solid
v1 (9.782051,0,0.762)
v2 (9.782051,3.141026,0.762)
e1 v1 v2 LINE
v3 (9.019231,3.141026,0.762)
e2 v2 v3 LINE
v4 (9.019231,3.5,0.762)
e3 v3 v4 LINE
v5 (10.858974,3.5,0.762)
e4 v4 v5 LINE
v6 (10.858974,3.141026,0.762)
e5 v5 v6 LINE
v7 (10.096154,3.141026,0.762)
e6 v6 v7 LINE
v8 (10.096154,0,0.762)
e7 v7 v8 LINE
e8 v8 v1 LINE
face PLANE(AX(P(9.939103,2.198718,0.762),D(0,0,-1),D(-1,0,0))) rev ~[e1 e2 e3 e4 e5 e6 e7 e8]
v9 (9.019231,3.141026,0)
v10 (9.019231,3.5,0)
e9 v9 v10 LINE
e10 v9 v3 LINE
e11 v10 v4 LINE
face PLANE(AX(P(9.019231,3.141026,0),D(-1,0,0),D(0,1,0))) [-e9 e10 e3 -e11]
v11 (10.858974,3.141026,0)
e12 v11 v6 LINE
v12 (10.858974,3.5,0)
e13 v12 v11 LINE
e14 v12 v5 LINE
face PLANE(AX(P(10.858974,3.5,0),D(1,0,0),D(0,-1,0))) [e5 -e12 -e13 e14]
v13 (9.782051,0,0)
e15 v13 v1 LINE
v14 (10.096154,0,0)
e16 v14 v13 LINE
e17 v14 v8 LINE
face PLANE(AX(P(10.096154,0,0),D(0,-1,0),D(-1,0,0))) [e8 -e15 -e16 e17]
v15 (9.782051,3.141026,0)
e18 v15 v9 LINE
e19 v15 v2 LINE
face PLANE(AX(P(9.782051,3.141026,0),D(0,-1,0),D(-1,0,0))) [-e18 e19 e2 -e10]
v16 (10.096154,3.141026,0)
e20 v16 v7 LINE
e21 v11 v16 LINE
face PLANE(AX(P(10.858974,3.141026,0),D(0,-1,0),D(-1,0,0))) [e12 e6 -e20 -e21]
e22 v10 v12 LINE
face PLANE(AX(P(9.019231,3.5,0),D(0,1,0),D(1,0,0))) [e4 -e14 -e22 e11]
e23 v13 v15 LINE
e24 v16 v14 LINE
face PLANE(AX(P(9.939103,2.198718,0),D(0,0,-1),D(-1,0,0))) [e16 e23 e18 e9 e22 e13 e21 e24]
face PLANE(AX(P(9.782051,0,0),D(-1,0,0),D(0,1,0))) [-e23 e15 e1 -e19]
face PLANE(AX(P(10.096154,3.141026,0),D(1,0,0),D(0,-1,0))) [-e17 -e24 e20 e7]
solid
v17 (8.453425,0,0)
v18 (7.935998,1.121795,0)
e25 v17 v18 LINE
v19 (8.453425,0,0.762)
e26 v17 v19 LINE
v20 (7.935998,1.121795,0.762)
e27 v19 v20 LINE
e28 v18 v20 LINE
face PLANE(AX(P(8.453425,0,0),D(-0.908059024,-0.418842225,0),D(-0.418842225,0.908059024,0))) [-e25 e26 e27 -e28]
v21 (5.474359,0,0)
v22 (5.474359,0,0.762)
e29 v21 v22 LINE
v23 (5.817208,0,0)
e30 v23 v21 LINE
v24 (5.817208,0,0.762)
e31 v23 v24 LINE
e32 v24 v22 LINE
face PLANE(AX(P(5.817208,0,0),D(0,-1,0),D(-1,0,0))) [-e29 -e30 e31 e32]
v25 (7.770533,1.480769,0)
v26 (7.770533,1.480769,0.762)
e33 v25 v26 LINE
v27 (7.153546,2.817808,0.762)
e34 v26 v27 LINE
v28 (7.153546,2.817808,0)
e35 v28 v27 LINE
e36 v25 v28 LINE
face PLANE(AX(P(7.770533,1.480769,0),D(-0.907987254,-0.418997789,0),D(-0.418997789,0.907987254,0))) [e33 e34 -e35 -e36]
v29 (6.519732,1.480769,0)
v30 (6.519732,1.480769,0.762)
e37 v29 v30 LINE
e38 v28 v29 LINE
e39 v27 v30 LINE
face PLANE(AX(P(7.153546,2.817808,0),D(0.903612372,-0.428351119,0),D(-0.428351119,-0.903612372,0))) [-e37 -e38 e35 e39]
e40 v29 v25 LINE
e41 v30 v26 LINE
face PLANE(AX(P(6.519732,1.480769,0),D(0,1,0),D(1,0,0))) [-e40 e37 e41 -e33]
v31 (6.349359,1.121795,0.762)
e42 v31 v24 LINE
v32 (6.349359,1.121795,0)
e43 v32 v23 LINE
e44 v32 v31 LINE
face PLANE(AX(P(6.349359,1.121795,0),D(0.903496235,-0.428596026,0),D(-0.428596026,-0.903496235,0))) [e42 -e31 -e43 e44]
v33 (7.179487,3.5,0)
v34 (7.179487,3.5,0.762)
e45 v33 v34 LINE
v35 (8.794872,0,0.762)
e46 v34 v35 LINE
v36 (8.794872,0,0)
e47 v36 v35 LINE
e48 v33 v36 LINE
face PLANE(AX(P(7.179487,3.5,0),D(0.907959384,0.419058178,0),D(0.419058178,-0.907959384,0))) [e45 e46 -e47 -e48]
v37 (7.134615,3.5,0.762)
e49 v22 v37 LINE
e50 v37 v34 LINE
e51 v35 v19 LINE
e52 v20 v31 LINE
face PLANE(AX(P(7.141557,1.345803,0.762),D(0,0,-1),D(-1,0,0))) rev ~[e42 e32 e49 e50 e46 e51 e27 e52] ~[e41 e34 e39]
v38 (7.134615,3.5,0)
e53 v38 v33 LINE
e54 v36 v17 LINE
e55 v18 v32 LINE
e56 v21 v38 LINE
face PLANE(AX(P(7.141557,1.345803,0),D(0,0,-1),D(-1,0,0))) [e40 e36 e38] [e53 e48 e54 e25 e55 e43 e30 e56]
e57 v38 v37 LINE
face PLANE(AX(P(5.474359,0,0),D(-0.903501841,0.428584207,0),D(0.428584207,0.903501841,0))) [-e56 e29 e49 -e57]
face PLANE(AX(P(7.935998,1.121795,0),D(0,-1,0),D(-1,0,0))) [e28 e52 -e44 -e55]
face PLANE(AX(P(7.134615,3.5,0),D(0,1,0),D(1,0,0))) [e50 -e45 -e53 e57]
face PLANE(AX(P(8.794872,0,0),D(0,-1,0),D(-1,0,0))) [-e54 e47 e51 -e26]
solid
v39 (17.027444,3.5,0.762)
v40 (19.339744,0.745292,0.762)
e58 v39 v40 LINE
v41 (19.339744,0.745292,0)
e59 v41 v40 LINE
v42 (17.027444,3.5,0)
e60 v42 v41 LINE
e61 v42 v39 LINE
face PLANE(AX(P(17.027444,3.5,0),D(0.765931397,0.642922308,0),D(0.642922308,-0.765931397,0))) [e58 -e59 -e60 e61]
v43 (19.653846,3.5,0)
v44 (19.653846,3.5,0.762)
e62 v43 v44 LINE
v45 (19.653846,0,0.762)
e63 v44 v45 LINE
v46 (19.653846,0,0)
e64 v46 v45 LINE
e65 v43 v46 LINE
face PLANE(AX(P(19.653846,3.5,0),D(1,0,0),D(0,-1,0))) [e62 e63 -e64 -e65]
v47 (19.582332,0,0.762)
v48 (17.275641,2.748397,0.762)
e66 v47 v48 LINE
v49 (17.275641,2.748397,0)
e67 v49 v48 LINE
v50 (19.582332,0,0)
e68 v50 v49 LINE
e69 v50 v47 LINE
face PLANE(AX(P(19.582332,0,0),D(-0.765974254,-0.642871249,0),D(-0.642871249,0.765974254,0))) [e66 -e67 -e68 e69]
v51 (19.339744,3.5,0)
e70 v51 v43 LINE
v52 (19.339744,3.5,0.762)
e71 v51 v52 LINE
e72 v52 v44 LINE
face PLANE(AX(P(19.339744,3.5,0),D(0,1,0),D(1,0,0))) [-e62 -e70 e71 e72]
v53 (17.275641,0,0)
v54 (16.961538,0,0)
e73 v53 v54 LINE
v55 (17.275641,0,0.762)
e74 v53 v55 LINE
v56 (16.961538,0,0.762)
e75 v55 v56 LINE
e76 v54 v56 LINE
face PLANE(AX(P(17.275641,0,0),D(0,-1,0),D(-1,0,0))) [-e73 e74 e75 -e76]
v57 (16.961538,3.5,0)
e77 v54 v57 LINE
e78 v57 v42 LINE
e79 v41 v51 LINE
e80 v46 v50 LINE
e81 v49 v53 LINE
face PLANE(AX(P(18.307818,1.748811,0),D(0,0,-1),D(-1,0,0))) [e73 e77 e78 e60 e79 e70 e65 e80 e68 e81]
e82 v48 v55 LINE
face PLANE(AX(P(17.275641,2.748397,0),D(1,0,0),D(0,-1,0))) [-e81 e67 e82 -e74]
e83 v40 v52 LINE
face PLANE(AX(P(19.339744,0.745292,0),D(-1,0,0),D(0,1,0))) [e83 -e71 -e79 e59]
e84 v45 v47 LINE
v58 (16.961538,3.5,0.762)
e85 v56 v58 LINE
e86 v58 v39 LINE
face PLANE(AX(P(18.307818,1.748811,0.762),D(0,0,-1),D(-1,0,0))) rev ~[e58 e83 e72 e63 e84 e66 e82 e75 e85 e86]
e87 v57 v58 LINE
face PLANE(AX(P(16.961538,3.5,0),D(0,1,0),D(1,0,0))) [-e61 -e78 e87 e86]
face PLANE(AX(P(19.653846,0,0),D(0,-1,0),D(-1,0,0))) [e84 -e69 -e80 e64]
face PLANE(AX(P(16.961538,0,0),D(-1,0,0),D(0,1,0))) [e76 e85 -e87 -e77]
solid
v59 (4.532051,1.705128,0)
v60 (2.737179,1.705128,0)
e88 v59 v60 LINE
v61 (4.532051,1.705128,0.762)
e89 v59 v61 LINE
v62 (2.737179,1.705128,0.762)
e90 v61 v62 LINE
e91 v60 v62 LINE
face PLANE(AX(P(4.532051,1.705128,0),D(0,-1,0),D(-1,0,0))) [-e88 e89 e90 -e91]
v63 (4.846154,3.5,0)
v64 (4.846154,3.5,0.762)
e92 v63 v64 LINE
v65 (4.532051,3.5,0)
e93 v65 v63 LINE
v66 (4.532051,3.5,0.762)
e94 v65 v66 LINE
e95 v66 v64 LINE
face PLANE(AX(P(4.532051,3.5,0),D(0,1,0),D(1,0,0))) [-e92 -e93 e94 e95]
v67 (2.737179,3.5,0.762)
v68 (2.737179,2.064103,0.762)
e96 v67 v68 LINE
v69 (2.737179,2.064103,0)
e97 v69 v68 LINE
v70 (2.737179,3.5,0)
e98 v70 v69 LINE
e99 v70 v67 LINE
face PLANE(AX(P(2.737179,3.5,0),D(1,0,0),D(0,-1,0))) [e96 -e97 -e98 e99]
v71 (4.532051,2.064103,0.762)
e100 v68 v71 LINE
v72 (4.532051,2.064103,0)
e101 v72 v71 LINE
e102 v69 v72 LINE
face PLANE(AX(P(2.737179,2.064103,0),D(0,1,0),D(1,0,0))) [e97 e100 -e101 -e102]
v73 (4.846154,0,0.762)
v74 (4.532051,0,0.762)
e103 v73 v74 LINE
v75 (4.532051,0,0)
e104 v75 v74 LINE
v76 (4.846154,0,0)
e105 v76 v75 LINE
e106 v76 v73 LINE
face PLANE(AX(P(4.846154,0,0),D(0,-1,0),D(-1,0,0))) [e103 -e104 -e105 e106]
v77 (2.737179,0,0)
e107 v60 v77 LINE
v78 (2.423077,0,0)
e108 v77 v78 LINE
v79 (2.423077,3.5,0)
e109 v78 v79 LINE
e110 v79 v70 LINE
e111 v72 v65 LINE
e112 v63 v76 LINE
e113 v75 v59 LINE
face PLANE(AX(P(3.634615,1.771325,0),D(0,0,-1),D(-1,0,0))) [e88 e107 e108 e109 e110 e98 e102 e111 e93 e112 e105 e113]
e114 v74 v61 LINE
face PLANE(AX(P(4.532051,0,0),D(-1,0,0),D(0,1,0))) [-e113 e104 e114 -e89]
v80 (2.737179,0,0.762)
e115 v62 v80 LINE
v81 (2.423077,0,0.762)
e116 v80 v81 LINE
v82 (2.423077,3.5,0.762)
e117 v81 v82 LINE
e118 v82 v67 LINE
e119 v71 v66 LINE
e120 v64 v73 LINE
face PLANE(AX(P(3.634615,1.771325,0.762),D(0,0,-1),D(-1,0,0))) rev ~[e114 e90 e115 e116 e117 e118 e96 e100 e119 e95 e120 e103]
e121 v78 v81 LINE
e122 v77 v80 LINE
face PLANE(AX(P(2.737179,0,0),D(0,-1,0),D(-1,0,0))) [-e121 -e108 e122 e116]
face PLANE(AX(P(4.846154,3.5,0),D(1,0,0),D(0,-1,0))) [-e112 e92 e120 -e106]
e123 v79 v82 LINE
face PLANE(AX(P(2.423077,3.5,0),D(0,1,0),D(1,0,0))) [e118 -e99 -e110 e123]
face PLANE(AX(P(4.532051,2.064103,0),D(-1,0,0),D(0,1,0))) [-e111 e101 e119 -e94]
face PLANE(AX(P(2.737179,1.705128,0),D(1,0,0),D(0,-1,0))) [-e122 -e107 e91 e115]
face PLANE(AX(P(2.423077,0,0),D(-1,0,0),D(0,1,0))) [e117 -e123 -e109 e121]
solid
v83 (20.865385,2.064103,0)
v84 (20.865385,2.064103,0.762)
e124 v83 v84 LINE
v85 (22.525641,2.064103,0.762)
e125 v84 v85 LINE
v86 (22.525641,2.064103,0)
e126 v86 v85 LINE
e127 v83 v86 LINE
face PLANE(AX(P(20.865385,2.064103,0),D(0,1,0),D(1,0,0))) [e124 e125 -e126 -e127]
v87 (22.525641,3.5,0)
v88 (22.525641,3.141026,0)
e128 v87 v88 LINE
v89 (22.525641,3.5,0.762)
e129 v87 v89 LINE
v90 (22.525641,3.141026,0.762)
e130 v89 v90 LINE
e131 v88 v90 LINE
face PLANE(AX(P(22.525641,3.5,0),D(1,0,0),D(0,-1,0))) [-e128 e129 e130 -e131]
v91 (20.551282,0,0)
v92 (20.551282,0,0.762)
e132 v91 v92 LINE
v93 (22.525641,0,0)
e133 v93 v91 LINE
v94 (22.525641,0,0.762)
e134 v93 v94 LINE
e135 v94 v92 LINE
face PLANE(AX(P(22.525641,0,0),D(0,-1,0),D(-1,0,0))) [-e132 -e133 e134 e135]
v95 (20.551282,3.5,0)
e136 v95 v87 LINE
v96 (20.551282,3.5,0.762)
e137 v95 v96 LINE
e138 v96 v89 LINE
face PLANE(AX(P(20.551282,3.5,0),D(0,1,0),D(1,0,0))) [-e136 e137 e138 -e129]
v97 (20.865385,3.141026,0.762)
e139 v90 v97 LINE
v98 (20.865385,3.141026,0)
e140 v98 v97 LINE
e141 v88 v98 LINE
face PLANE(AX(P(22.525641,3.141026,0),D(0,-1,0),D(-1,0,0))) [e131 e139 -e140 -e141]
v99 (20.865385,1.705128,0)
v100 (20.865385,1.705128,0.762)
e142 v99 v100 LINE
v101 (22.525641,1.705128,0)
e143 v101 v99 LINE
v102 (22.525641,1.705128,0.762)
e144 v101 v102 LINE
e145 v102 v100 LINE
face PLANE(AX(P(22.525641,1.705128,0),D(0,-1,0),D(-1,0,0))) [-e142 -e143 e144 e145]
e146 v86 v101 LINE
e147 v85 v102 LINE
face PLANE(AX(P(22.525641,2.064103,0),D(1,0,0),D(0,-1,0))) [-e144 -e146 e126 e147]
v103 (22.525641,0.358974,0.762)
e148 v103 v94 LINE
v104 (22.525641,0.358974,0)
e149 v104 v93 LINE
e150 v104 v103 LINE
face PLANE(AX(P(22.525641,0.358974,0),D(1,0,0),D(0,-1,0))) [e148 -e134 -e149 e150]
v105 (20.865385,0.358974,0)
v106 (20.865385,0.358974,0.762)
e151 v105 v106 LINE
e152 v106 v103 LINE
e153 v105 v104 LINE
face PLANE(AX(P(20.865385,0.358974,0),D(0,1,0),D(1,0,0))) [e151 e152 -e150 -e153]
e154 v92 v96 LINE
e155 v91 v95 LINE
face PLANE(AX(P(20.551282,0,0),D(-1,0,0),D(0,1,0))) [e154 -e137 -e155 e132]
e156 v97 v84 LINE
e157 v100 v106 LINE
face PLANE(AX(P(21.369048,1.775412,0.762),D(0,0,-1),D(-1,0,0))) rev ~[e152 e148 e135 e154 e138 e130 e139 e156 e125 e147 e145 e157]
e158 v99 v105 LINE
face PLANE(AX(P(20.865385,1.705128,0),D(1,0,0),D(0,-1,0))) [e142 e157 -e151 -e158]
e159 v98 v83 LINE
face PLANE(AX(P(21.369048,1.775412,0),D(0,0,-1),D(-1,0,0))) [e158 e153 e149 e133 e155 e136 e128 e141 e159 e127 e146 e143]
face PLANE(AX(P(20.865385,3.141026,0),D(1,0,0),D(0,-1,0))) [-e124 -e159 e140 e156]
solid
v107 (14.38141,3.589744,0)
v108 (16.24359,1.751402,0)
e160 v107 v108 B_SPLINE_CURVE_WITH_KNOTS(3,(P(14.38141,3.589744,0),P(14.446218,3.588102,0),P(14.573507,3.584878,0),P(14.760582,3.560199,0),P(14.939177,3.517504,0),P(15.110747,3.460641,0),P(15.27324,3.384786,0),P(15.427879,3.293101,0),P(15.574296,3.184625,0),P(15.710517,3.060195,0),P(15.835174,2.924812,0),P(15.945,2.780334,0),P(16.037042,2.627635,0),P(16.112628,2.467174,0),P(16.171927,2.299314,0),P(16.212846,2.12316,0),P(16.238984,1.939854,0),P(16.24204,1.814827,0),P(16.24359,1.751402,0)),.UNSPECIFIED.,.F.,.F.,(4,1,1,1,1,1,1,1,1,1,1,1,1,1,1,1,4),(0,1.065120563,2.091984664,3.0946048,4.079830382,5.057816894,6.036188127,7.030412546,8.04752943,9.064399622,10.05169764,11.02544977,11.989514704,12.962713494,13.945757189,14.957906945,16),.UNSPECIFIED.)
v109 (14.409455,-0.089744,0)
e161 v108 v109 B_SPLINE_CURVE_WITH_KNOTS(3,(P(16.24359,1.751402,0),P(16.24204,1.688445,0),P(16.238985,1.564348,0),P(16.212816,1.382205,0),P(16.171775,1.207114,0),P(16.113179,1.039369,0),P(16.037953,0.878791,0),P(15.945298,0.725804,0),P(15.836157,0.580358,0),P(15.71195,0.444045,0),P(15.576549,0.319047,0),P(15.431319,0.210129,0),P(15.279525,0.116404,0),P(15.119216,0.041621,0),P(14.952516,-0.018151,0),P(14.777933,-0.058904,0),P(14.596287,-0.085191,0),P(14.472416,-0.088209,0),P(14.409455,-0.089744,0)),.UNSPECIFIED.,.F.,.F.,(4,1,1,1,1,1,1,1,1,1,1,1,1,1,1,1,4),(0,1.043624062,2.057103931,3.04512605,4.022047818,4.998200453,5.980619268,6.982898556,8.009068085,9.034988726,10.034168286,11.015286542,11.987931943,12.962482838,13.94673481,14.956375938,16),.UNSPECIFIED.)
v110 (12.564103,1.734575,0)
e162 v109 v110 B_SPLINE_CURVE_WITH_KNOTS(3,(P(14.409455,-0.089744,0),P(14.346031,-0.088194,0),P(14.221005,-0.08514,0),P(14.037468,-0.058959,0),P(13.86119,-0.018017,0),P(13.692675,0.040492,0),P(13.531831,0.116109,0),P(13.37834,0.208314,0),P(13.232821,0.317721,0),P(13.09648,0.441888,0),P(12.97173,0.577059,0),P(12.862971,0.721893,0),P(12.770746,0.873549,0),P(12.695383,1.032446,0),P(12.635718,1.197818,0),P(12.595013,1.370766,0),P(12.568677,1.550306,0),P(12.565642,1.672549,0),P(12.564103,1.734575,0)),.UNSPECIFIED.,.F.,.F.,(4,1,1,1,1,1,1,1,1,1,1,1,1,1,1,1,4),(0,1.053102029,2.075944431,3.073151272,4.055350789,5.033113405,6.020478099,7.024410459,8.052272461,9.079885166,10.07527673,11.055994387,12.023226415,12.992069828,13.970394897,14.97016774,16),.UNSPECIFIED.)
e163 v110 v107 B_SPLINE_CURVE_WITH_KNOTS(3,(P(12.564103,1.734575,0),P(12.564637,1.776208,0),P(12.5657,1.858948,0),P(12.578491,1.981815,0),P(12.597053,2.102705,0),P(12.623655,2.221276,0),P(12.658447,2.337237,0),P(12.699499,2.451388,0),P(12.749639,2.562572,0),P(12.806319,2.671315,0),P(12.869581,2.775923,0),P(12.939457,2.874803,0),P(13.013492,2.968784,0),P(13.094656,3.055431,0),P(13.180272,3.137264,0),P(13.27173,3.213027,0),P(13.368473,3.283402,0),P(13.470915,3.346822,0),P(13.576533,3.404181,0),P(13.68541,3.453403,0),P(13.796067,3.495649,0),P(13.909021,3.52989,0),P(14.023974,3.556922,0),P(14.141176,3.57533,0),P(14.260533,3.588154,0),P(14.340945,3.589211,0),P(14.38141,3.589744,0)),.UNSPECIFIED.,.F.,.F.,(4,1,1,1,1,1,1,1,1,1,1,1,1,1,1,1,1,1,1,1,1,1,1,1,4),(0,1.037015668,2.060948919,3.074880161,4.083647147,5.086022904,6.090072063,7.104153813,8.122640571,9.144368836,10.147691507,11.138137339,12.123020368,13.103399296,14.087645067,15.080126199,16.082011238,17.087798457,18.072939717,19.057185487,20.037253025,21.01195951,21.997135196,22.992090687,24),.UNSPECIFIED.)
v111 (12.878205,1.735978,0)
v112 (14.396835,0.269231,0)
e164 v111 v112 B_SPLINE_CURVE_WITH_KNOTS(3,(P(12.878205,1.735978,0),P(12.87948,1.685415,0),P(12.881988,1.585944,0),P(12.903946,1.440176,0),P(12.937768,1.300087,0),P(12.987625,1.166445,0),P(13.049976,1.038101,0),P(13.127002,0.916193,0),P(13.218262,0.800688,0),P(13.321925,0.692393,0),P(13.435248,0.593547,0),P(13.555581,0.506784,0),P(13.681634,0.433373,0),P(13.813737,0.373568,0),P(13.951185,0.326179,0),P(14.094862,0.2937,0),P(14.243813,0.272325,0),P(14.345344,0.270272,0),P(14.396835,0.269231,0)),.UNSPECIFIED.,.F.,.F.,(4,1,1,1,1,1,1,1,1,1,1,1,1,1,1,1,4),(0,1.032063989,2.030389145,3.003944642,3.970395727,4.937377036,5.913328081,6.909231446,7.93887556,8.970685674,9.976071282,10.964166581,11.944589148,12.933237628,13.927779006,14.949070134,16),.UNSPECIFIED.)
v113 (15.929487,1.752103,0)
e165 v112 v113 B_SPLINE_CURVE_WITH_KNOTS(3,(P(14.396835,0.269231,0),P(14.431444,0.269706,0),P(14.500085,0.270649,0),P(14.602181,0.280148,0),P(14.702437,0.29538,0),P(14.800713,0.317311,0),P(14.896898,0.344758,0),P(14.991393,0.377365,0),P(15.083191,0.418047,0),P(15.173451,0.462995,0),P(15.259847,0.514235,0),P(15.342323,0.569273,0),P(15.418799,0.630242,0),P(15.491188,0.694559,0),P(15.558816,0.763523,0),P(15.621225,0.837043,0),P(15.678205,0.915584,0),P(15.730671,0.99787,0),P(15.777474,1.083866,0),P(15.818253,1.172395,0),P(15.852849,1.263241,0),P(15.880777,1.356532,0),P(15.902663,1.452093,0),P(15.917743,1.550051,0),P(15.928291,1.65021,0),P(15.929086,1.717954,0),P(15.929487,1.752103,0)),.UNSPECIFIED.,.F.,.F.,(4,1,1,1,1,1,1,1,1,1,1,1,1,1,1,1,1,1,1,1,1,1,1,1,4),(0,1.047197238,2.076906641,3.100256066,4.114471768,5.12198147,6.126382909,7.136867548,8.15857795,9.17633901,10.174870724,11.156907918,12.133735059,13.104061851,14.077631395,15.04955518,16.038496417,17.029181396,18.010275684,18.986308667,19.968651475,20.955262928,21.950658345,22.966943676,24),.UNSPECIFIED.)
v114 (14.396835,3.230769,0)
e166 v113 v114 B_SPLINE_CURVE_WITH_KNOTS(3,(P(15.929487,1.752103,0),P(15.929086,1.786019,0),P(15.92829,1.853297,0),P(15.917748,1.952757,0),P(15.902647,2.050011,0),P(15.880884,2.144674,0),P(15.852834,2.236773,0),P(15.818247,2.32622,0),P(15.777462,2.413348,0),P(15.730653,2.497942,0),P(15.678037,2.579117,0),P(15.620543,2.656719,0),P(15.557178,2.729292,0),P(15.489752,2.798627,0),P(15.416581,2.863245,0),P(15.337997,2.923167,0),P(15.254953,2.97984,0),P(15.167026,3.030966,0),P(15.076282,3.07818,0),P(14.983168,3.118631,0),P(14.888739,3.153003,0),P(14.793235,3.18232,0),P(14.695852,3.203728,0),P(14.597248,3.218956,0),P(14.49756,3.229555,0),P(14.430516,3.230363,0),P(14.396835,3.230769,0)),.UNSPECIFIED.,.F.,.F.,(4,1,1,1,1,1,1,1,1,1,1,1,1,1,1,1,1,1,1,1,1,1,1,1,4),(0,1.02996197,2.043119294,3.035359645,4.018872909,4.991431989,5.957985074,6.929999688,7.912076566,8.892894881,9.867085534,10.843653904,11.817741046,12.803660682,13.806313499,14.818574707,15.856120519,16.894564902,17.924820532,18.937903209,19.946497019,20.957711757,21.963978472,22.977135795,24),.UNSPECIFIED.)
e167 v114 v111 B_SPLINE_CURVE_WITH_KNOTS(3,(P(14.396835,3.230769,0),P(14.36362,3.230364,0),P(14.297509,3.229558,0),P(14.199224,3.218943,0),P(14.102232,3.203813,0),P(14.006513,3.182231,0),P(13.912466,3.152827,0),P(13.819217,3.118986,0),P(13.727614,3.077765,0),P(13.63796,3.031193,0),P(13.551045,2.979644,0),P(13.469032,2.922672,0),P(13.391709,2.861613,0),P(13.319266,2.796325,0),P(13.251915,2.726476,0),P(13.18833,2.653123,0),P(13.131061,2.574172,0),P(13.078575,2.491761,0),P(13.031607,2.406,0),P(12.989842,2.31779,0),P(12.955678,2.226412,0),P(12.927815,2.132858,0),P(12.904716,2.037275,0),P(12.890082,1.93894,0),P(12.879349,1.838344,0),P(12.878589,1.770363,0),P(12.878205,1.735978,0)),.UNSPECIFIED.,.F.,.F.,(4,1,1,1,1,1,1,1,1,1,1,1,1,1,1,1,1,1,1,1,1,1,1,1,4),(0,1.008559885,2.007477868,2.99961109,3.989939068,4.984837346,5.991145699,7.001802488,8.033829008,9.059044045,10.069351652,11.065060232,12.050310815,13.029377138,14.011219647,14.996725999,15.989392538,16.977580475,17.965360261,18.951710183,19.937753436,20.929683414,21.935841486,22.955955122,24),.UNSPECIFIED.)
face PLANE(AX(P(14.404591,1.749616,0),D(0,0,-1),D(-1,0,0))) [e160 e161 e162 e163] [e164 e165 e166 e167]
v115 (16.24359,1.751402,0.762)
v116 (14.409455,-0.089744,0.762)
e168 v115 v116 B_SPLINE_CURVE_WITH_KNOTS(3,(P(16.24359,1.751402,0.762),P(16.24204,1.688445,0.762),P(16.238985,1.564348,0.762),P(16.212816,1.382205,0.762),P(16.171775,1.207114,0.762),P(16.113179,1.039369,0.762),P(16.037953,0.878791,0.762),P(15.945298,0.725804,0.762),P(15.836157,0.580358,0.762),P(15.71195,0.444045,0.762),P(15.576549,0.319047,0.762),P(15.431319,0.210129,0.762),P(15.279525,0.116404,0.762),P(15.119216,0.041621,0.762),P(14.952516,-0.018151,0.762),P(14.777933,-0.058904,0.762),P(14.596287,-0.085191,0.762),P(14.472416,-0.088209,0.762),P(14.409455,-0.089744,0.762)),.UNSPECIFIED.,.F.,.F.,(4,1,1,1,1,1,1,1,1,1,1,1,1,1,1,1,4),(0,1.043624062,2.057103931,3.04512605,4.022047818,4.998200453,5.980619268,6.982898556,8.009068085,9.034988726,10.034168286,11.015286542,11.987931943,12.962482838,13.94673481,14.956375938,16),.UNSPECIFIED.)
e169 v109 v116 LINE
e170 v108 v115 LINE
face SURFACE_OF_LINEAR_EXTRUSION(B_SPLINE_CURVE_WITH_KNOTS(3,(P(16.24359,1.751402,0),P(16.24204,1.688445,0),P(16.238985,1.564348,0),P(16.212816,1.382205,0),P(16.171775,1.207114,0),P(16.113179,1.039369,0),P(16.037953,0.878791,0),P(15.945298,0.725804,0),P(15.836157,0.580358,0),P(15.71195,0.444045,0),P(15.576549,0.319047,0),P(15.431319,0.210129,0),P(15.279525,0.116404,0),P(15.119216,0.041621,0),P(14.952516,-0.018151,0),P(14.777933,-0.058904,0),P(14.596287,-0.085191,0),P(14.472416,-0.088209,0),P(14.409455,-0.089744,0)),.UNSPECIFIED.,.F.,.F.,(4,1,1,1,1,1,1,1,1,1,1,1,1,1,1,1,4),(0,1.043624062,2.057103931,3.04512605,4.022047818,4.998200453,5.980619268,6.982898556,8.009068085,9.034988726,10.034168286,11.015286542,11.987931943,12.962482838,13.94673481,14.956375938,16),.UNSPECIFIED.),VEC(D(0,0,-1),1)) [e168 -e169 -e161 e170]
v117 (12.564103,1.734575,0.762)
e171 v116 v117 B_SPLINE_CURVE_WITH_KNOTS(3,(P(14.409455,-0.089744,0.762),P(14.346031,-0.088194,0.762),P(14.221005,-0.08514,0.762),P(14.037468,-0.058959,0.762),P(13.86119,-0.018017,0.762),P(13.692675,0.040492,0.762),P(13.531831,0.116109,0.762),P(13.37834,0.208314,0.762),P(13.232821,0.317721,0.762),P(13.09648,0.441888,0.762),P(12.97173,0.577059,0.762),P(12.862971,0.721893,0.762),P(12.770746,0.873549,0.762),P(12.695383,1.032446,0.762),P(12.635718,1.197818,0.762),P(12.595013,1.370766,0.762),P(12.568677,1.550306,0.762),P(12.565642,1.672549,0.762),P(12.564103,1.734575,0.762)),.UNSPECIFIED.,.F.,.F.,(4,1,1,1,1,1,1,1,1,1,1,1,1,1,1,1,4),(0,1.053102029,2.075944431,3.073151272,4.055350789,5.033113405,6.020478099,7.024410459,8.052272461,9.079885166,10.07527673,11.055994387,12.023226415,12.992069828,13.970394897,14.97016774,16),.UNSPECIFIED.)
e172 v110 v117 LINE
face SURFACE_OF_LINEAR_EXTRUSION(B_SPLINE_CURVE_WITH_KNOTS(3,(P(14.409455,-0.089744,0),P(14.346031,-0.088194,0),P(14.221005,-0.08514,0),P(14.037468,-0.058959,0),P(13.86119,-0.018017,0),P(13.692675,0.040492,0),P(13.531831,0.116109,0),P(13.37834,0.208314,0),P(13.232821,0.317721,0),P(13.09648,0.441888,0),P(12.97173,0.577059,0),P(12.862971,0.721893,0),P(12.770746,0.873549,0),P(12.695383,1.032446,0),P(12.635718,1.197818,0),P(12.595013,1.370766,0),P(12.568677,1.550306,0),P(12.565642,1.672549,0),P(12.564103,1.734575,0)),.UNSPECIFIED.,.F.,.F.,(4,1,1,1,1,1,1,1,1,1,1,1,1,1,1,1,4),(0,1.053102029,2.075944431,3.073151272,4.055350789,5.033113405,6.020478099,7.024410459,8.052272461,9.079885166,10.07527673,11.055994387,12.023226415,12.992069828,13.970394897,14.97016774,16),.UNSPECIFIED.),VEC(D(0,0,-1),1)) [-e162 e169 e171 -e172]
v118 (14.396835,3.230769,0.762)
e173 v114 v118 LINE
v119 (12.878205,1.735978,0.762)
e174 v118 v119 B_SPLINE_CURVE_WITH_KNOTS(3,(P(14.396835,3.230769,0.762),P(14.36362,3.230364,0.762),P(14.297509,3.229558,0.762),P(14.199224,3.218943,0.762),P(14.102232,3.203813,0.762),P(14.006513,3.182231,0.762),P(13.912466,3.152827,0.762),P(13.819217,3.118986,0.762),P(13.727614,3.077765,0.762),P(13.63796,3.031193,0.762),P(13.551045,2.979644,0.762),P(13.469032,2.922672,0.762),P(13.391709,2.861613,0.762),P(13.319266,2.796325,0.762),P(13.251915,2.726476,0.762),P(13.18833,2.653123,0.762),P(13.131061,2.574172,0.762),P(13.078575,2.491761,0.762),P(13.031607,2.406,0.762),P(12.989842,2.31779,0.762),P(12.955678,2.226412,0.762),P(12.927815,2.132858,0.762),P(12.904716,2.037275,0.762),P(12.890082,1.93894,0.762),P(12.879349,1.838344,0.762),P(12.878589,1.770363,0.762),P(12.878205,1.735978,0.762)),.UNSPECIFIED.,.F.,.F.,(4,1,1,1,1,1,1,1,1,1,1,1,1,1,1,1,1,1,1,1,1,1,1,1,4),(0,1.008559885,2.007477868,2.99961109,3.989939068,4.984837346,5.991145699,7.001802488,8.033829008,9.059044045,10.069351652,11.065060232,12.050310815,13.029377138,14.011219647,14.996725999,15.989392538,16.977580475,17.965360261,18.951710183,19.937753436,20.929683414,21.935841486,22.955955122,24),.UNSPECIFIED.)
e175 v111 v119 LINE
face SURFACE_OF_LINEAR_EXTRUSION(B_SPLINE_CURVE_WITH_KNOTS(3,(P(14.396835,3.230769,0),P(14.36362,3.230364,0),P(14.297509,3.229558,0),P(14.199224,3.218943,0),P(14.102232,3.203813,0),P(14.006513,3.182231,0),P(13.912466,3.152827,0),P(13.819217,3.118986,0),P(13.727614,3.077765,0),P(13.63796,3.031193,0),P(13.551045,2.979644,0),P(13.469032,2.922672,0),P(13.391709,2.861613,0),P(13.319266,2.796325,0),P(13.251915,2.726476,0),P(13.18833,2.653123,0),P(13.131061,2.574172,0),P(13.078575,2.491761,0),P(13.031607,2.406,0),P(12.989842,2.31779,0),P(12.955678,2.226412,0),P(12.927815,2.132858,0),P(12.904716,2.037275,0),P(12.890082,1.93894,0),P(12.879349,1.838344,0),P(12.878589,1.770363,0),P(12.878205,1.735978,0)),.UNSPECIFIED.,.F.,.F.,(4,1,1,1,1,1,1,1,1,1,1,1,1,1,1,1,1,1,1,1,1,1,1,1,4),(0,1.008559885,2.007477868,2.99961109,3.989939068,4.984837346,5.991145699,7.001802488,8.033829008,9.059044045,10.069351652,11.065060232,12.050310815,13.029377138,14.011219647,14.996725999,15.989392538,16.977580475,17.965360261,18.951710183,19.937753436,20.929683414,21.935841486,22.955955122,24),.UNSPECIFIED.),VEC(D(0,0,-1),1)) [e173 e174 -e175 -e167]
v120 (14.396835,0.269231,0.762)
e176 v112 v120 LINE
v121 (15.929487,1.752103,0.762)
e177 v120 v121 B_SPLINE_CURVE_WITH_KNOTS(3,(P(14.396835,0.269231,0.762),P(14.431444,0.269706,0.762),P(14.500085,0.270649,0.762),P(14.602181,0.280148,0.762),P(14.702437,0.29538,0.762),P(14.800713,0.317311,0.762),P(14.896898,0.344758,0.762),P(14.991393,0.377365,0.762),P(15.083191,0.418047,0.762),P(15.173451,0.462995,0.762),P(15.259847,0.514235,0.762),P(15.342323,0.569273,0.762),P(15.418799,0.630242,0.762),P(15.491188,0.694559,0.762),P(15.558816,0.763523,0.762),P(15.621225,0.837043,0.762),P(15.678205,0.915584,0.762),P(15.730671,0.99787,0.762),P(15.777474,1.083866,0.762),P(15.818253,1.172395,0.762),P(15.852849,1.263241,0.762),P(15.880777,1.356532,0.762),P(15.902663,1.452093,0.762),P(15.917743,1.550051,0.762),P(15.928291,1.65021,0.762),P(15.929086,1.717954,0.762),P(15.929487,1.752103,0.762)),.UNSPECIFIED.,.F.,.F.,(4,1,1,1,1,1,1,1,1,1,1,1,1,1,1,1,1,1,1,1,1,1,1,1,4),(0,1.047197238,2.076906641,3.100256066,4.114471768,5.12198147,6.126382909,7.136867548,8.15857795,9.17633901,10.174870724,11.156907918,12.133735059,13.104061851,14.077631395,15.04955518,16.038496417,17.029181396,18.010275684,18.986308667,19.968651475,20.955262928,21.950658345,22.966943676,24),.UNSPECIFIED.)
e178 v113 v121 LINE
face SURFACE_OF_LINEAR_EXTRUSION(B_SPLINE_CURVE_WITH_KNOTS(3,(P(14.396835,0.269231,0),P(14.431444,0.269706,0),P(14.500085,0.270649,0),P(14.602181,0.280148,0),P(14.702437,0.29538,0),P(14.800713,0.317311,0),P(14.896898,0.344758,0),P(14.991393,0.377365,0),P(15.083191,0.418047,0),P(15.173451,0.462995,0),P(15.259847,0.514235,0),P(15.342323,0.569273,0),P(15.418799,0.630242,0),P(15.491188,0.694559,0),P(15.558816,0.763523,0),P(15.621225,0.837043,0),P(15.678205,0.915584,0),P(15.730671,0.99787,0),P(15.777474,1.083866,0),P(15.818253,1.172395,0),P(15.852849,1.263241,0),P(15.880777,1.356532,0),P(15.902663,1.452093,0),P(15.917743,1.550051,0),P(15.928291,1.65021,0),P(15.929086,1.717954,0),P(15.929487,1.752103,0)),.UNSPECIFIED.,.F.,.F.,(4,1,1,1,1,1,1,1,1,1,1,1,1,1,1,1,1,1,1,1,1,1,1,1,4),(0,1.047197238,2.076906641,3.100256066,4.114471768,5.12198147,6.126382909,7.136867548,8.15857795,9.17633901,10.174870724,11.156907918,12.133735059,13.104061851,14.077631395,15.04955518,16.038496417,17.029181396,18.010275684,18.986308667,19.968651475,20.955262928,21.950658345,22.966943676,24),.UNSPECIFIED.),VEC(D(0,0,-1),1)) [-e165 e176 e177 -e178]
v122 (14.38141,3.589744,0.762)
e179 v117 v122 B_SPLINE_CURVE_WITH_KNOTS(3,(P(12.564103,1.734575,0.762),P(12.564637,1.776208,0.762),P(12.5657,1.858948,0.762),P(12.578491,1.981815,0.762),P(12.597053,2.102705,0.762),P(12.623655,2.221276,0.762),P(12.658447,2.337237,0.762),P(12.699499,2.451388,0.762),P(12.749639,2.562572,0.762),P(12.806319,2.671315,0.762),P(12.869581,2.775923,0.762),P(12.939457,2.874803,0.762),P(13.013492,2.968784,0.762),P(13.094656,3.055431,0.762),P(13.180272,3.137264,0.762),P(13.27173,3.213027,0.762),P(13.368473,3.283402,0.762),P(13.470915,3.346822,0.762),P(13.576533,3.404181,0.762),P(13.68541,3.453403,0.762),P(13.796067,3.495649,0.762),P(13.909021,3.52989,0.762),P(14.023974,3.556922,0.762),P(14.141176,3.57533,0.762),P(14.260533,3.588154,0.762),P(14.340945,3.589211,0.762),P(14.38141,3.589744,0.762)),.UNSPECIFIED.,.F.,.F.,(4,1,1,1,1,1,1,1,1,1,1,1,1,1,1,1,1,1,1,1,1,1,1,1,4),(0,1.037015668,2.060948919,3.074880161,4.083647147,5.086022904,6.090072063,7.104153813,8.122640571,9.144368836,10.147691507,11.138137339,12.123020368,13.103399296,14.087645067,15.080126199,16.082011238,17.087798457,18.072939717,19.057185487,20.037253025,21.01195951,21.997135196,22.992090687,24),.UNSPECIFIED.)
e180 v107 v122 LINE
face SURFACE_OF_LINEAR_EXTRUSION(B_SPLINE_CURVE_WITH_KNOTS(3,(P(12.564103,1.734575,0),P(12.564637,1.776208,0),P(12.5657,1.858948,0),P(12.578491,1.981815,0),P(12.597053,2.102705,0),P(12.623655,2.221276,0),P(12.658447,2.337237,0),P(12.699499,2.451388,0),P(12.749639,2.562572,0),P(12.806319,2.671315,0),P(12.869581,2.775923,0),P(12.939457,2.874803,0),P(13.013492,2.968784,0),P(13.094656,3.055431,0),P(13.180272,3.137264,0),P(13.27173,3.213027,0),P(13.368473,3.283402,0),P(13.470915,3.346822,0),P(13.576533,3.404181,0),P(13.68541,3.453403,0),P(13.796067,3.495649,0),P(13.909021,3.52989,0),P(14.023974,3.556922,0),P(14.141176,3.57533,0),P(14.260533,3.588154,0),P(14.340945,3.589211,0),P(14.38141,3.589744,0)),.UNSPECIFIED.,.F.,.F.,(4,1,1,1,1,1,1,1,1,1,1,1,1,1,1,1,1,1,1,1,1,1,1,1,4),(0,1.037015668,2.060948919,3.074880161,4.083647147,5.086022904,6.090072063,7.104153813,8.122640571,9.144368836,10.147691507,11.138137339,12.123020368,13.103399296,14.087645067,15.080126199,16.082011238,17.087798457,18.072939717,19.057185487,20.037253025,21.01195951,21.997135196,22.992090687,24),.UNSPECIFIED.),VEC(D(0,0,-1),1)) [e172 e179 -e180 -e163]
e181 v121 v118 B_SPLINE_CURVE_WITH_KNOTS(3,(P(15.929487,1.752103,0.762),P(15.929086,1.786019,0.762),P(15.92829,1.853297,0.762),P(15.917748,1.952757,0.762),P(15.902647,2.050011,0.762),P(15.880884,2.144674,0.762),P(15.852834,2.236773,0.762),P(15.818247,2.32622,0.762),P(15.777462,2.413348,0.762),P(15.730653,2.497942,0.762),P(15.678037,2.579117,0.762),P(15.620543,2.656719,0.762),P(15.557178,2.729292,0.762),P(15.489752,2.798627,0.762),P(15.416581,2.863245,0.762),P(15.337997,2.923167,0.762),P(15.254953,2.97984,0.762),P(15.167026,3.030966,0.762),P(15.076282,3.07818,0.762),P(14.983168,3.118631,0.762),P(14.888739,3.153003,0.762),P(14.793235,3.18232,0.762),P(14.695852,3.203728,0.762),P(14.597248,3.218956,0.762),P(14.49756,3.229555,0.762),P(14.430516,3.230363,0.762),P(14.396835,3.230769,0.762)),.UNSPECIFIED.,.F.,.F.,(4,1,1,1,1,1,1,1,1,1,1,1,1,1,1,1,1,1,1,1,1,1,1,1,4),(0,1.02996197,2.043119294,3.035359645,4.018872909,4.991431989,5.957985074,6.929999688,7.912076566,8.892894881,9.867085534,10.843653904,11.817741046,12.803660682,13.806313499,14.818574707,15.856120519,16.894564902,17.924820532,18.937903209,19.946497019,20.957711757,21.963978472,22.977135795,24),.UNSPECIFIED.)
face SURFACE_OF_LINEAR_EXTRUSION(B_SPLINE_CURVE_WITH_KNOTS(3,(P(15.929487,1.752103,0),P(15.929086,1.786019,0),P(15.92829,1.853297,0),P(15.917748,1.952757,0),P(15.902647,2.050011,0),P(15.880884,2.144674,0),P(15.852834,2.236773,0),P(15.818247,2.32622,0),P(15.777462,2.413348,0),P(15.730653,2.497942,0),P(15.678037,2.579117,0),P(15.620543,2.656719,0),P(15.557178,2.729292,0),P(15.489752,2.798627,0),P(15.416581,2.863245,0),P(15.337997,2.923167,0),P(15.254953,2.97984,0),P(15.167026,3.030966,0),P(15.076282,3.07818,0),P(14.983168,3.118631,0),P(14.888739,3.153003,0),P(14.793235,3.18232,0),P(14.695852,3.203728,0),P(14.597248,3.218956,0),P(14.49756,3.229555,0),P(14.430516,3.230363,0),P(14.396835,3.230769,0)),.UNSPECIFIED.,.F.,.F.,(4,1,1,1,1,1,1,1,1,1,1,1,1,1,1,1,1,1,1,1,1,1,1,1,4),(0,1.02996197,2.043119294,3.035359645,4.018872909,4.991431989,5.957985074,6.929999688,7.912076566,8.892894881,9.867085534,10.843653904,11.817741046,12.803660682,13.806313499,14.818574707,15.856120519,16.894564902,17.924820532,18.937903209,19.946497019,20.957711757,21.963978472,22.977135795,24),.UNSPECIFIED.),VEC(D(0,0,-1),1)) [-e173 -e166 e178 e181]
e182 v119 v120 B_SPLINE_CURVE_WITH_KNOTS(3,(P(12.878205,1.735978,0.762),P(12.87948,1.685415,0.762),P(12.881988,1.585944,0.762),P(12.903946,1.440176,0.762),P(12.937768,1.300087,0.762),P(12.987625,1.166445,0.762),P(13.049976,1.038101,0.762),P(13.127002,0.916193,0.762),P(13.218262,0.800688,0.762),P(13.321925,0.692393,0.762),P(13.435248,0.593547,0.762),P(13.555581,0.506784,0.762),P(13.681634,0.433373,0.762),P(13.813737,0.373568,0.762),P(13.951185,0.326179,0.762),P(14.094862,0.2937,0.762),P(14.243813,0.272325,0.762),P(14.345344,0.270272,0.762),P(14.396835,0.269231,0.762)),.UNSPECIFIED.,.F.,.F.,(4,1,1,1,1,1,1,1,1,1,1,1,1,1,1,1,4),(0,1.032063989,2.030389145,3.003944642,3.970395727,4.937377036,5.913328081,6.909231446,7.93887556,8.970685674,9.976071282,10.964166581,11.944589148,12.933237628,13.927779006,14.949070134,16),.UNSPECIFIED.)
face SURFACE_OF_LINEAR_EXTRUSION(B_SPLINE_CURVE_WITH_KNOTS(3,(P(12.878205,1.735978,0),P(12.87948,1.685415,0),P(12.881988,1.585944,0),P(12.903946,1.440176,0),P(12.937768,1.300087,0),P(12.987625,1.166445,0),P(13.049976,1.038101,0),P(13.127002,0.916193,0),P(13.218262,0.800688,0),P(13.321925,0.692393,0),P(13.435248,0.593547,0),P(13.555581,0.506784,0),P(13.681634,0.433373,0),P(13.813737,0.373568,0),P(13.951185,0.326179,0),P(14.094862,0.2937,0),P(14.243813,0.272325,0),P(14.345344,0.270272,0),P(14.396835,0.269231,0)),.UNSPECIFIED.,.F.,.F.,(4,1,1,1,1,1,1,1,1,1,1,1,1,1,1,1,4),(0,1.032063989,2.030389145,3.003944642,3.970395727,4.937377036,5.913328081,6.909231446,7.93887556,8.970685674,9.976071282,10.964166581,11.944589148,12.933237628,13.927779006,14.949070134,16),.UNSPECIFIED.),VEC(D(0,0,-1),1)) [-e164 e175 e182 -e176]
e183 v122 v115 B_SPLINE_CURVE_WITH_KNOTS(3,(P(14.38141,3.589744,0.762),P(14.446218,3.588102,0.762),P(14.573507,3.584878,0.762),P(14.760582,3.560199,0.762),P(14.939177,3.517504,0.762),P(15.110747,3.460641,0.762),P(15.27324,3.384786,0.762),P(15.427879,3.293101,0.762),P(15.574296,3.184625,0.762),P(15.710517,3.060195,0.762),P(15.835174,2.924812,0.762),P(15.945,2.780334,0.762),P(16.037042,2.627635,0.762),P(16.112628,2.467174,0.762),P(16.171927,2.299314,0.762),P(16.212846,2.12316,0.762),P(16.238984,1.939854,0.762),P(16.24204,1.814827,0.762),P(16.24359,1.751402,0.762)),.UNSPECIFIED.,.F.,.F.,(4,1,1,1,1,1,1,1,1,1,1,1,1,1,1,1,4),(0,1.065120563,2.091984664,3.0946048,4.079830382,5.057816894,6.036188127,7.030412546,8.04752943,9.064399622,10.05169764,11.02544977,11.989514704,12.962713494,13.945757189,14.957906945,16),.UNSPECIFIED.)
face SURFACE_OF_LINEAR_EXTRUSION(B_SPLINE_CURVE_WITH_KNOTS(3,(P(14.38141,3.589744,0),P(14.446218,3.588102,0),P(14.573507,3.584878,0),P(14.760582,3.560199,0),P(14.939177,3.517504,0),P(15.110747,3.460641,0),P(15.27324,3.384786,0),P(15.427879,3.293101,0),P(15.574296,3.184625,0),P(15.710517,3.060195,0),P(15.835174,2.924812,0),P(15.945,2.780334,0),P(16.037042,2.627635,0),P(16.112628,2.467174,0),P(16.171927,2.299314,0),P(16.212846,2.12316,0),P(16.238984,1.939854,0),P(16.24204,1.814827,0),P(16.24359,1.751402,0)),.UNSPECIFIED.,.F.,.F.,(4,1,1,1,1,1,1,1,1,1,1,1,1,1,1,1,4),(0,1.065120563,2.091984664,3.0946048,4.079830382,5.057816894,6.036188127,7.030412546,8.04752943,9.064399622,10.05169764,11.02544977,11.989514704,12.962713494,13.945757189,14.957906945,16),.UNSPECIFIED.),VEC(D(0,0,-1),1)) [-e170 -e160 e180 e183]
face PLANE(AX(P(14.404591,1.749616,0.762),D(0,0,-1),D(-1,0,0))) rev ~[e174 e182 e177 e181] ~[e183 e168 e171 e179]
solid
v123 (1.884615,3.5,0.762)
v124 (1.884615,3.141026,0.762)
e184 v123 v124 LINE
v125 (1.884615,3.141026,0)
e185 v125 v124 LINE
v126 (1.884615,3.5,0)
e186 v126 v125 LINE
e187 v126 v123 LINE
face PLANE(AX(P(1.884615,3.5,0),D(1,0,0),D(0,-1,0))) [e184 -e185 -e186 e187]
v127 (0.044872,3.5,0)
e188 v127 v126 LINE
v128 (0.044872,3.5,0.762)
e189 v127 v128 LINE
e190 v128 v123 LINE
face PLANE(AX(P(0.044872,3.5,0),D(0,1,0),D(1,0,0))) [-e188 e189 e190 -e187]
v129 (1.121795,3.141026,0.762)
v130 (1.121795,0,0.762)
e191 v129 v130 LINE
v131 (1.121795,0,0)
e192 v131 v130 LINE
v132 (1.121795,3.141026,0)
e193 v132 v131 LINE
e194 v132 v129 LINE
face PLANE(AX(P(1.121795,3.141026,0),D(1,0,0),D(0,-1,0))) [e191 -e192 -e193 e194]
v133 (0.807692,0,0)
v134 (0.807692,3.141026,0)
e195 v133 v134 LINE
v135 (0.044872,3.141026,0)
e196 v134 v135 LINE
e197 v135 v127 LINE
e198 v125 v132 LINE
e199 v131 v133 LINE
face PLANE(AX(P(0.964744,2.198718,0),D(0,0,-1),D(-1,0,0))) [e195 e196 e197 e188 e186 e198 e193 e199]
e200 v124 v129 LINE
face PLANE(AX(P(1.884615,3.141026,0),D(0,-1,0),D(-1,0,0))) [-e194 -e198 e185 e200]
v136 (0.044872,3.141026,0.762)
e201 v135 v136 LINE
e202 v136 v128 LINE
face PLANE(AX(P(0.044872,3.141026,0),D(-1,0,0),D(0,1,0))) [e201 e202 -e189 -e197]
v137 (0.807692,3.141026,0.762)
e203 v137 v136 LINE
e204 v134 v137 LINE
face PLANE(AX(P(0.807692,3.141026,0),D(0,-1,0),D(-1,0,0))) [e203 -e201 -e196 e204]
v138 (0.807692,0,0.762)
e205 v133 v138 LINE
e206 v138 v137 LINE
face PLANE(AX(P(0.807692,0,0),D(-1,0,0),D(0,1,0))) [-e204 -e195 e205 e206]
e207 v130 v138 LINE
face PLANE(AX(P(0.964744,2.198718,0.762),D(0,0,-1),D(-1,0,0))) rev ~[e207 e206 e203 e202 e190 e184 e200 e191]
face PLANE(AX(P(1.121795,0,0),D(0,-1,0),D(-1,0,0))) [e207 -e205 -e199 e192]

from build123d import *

# Parameters (mm, degrees)
BOSS_EXTRUDE1_DEPTH   = 0.762
BOSS_EXTRUDE1_2_DEPTH = 0.762
BOSS_EXTRUDE1_3_DEPTH = 0.762
BOSS_EXTRUDE1_4_DEPTH = 0.762
BOSS_EXTRUDE1_5_DEPTH = 0.762
BOSS_EXTRUDE1_6_DEPTH = 0.762
BOSS_EXTRUDE1_7_DEPTH = 0.762


with BuildPart() as part:
    # Sketch1 → Boss-Extrude1 (new body)
    with BuildSketch(Plane.XY):
        Polygon((0.044871795, 3.141025641), (0.044871795, 3.5), (1.884615385, 3.5), (1.884615385, 3.141025641), (1.121794872, 3.141025641), (1.121794872, 0), (0.807692308, 0), (0.807692308, 3.141025641), align=None)
    extrude(amount=BOSS_EXTRUDE1_DEPTH)


with BuildPart() as body_2:
    # Sketch1 → Boss-Extrude1 2 (new body)
    with BuildSketch(Plane.XY):
        Polygon((2.423076923, 3.5), (2.737179487, 3.5), (2.737179487, 2.064102564), (4.532051282, 2.064102564), (4.532051282, 3.5), (4.846153846, 3.5), (4.846153846, 0), (4.532051282, 0), (4.532051282, 1.705128205), (2.737179487, 1.705128205), (2.737179487, 0), (2.423076923, 0), align=None)
    extrude(amount=BOSS_EXTRUDE1_2_DEPTH)


with BuildPart() as body_3:
    # Sketch1 → Boss-Extrude1 3 (new body)
    with BuildSketch(Plane.XY):
        Polygon((7.179487179, 3.5), (8.794871795, 0), (8.453425481, 0), (7.935997596, 1.121794872), (6.349358974, 1.121794872), (5.817207532, 0), (5.474358974, 0), (7.134615385, 3.5), align=None)
        Polygon((7.153545673, 2.817808494), (6.519731571, 1.480769231), (7.770532853, 1.480769231), align=None, mode=Mode.SUBTRACT)
    extrude(amount=BOSS_EXTRUDE1_3_DEPTH)


with BuildPart() as body_4:
    # Sketch1 → Boss-Extrude1 4 (new body)
    with BuildSketch(Plane.XY):
        Polygon((9.019230769, 3.141025641), (9.019230769, 3.5), (10.858974359, 3.5), (10.858974359, 3.141025641), (10.096153846, 3.141025641), (10.096153846, 0), (9.782051282, 0), (9.782051282, 3.141025641), align=None)
    extrude(amount=BOSS_EXTRUDE1_4_DEPTH)


with BuildPart() as body_5:
    # Sketch1 → Boss-Extrude1 5 (new body)
    with BuildSketch(Plane.XY):
        with BuildLine():
            add(Edge.make_bspline(
                [(14.381410256, 3.58974359), (14.446218362, 3.58810211), (14.573506829, 3.584878109), (14.760581727, 3.560199006), (14.939176822, 3.517503616), (15.110746961, 3.460640633), (15.273239938, 3.384786248), (15.42787883, 3.2931011), (15.574295704, 3.184624641), (15.710517085, 3.060195414), (15.835174036, 2.92481196), (15.944999922, 2.78033405), (16.037042216, 2.627635248), (16.112628003, 2.467174417), (16.171926613, 2.299314449), (16.212845656, 2.123160446), (16.238983806, 1.939853756), (16.242039584, 1.814826892), (16.243589744, 1.751402244)],
                knots=[0, 0, 0, 0, 1.065120563, 2.091984664, 3.0946048, 4.079830382, 5.057816894, 6.036188127, 7.030412546, 8.04752943, 9.064399622, 10.05169764, 11.02544977, 11.989514704, 12.962713494, 13.945757189, 14.957906945, 16, 16, 16, 16], degree=3))
            add(Edge.make_bspline(
                [(16.243589744, 1.751402244), (16.242039811, 1.688444797), (16.238984714, 1.564348377), (16.212815937, 1.382204933), (16.171774937, 1.207114236), (16.113178671, 1.039368583), (16.037953192, 0.87879102), (15.945298021, 0.725804066), (15.83615681, 0.580357567), (15.711949959, 0.444044902), (15.576548917, 0.319047431), (15.431318651, 0.210128556), (15.279525331, 0.116404431), (15.119215623, 0.041620757), (14.952515586, -0.018151163), (14.777933263, -0.058903793), (14.596286709, -0.085190837), (14.472415705, -0.088209353), (14.409455128, -0.08974359)],
                knots=[0, 0, 0, 0, 1.043624062, 2.057103931, 3.04512605, 4.022047818, 4.998200453, 5.980619268, 6.982898556, 8.009068085, 9.034988726, 10.034168286, 11.015286542, 11.987931943, 12.962482838, 13.94673481, 14.956375938, 16, 16, 16, 16], degree=3))
            add(Edge.make_bspline(
                [(14.409455128, -0.08974359), (14.346030809, -0.088194203), (14.221004593, -0.085139949), (14.037467558, -0.058958544), (13.861189814, -0.01801724), (13.692675463, 0.040492196), (13.531830533, 0.116109427), (13.378340451, 0.208313806), (13.232821303, 0.317720947), (13.096479557, 0.441887521), (12.971730359, 0.577059073), (12.862970983, 0.721893329), (12.77074587, 0.873548785), (12.695382537, 1.032446309), (12.635718078, 1.197817752), (12.59501326, 1.370766229), (12.568677308, 1.550305735), (12.565642461, 1.672548634), (12.564102564, 1.734575321)],
                knots=[0, 0, 0, 0, 1.053102029, 2.075944431, 3.073151272, 4.055350789, 5.033113405, 6.020478099, 7.024410459, 8.052272461, 9.079885166, 10.07527673, 11.055994387, 12.023226415, 12.992069828, 13.970394897, 14.97016774, 16, 16, 16, 16], degree=3))
            add(Edge.make_bspline(
                [(12.564102564, 1.734575321), (12.5646372, 1.77620799), (12.565699726, 1.858948113), (12.578491418, 1.981814713), (12.59705312, 2.102705371), (12.623655032, 2.221276319), (12.658446699, 2.337237304), (12.699498727, 2.451388067), (12.749638572, 2.56257179), (12.80631922, 2.671315182), (12.869581028, 2.775923088), (12.939456777, 2.874802671), (13.013492146, 2.968783668), (13.09465554, 3.055430672), (13.180271985, 3.137264328), (13.271730363, 3.213027045), (13.368472607, 3.283401996), (13.470914987, 3.346822337), (13.576533262, 3.404181472), (13.68541004, 3.453403323), (13.796066611, 3.495649384), (13.909021259, 3.529890209), (14.023974031, 3.556922245), (14.141175816, 3.575329599), (14.260533242, 3.588153917), (14.340944561, 3.589211419), (14.381410256, 3.58974359)],
                knots=[0, 0, 0, 0, 1.037015668, 2.060948919, 3.074880161, 4.083647147, 5.086022904, 6.090072063, 7.104153813, 8.122640571, 9.144368836, 10.147691507, 11.138137339, 12.123020368, 13.103399296, 14.087645067, 15.080126199, 16.082011238, 17.087798457, 18.072939717, 19.057185487, 20.037253025, 21.01195951, 21.997135196, 22.992090687, 24, 24, 24, 24], degree=3))
        make_face()
        with BuildLine():
            add(Edge.make_bspline(
                [(14.396834936, 3.230769231), (14.363620302, 3.230364341), (14.297508569, 3.229558431), (14.199224033, 3.218942715), (14.102232099, 3.203812826), (14.006512737, 3.182231305), (13.912466448, 3.152827253), (13.819216607, 3.118986345), (13.727613553, 3.077765254), (13.637959695, 3.03119255), (13.55104462, 2.979643629), (13.469031918, 2.922671862), (13.391709274, 2.861613307), (13.319266008, 2.79632547), (13.251914836, 2.726475868), (13.188330134, 2.653123432), (13.131060552, 2.574171541), (13.078574976, 2.491761134), (13.031607135, 2.405999553), (12.989841781, 2.317789691), (12.955677772, 2.226412004), (12.927815395, 2.132857846), (12.904715585, 2.037275387), (12.890081661, 1.938939538), (12.879349301, 1.838344426), (12.878589456, 1.770362572), (12.878205128, 1.735977564)],
                knots=[0, 0, 0, 0, 1.008559885, 2.007477868, 2.99961109, 3.989939068, 4.984837346, 5.991145699, 7.001802488, 8.033829008, 9.059044045, 10.069351652, 11.065060232, 12.050310815, 13.029377138, 14.011219647, 14.996725999, 15.989392538, 16.977580475, 17.965360261, 18.951710183, 19.937753436, 20.929683414, 21.935841486, 22.955955122, 24, 24, 24, 24], degree=3))
            add(Edge.make_bspline(
                [(12.878205128, 1.735977564), (12.87947999, 1.685415343), (12.881988038, 1.585943813), (12.903945608, 1.440175669), (12.937767583, 1.300087383), (12.987624949, 1.166445474), (13.049975564, 1.038101191), (13.127002454, 0.916193086), (13.21826154, 0.800688212), (13.321925066, 0.692392943), (13.435247773, 0.593547138), (13.555580503, 0.50678373), (13.68163411, 0.43337348), (13.813737313, 0.373568408), (13.951184852, 0.32617867), (14.094862403, 0.293700039), (14.243812863, 0.272324583), (14.345343518, 0.270271827), (14.396834936, 0.269230769)],
                knots=[0, 0, 0, 0, 1.032063989, 2.030389145, 3.003944642, 3.970395727, 4.937377036, 5.913328081, 6.909231446, 7.93887556, 8.970685674, 9.976071282, 10.964166581, 11.944589148, 12.933237628, 13.927779006, 14.949070134, 16, 16, 16, 16], degree=3))
            add(Edge.make_bspline(
                [(14.396834936, 0.269230769), (14.431444438, 0.269706274), (14.500085474, 0.270649342), (14.602180996, 0.280148018), (14.702437208, 0.295379888), (14.800713488, 0.317310543), (14.896898299, 0.34475775), (14.991393102, 0.377365478), (15.083191393, 0.418046682), (15.17345123, 0.462994633), (15.259847472, 0.514234791), (15.342323004, 0.56927294), (15.418798984, 0.630241561), (15.491188056, 0.694559374), (15.558815745, 0.763523221), (15.621224729, 0.837043443), (15.678204861, 0.9155841), (15.730670508, 0.997869506), (15.77747377, 1.083865759), (15.81825287, 1.172395437), (15.852848985, 1.263240546), (15.88077749, 1.356532118), (15.902662952, 1.452092966), (15.917742872, 1.550051045), (15.92829131, 1.650210387), (15.929086388, 1.717954243), (15.929487179, 1.752103365)],
                knots=[0, 0, 0, 0, 1.047197238, 2.076906641, 3.100256066, 4.114471768, 5.12198147, 6.126382909, 7.136867548, 8.15857795, 9.17633901, 10.174870724, 11.156907918, 12.133735059, 13.104061851, 14.077631395, 15.04955518, 16.038496417, 17.029181396, 18.010275684, 18.986308667, 19.968651475, 20.955262928, 21.950658345, 22.966943676, 24, 24, 24, 24], degree=3))
            add(Edge.make_bspline(
                [(15.929487179, 1.752103365), (15.929086067, 1.78601887), (15.928290385, 1.85329652), (15.91774791, 1.952757338), (15.90264702, 2.05001055), (15.880884312, 2.144674353), (15.852834158, 2.236772878), (15.818246828, 2.326219625), (15.777461528, 2.413347821), (15.730653304, 2.497942118), (15.678037481, 2.579116855), (15.620543237, 2.656719268), (15.557177889, 2.729292009), (15.489751864, 2.798626703), (15.416580979, 2.863244593), (15.337996685, 2.923167114), (15.254953007, 2.979840388), (15.167025772, 3.03096595), (15.076281818, 3.078180182), (14.98316786, 3.118631186), (14.88873876, 3.153003305), (14.793234648, 3.18232027), (14.69585167, 3.2037283), (14.597247841, 3.21895635), (14.497559582, 3.229554736), (14.430516362, 3.230363114), (14.396834936, 3.230769231)],
                knots=[0, 0, 0, 0, 1.02996197, 2.043119294, 3.035359645, 4.018872909, 4.991431989, 5.957985074, 6.929999688, 7.912076566, 8.892894881, 9.867085534, 10.843653904, 11.817741046, 12.803660682, 13.806313499, 14.818574707, 15.856120519, 16.894564902, 17.924820532, 18.937903209, 19.946497019, 20.957711757, 21.963978472, 22.977135795, 24, 24, 24, 24], degree=3))
        make_face(mode=Mode.SUBTRACT)
    extrude(amount=BOSS_EXTRUDE1_5_DEPTH)


with BuildPart() as body_6:
    # Sketch1 → Boss-Extrude1 6 (new body)
    with BuildSketch(Plane.XY):
        Polygon((16.961538462, 0), (16.961538462, 3.5), (17.02744391, 3.5), (19.33974359, 0.745292468), (19.33974359, 3.5), (19.653846154, 3.5), (19.653846154, 0), (19.582331731, 0), (17.275641026, 2.748397436), (17.275641026, 0), align=None)
    extrude(amount=BOSS_EXTRUDE1_6_DEPTH)


with BuildPart() as body_7:
    # Sketch1 → Boss-Extrude1 7 (new body)
    with BuildSketch(Plane.XY):
        Polygon((20.551282051, 3.5), (22.525641026, 3.5), (22.525641026, 3.141025641), (20.865384615, 3.141025641), (20.865384615, 2.064102564), (22.525641026, 2.064102564), (22.525641026, 1.705128205), (20.865384615, 1.705128205), (20.865384615, 0.358974359), (22.525641026, 0.358974359), (22.525641026, 0), (20.551282051, 0), align=None)
    extrude(amount=BOSS_EXTRUDE1_7_DEPTH)


solid = Compound([part.part, body_2.part, body_3.part, body_4.part, body_5.part, body_6.part, body_7.part])
